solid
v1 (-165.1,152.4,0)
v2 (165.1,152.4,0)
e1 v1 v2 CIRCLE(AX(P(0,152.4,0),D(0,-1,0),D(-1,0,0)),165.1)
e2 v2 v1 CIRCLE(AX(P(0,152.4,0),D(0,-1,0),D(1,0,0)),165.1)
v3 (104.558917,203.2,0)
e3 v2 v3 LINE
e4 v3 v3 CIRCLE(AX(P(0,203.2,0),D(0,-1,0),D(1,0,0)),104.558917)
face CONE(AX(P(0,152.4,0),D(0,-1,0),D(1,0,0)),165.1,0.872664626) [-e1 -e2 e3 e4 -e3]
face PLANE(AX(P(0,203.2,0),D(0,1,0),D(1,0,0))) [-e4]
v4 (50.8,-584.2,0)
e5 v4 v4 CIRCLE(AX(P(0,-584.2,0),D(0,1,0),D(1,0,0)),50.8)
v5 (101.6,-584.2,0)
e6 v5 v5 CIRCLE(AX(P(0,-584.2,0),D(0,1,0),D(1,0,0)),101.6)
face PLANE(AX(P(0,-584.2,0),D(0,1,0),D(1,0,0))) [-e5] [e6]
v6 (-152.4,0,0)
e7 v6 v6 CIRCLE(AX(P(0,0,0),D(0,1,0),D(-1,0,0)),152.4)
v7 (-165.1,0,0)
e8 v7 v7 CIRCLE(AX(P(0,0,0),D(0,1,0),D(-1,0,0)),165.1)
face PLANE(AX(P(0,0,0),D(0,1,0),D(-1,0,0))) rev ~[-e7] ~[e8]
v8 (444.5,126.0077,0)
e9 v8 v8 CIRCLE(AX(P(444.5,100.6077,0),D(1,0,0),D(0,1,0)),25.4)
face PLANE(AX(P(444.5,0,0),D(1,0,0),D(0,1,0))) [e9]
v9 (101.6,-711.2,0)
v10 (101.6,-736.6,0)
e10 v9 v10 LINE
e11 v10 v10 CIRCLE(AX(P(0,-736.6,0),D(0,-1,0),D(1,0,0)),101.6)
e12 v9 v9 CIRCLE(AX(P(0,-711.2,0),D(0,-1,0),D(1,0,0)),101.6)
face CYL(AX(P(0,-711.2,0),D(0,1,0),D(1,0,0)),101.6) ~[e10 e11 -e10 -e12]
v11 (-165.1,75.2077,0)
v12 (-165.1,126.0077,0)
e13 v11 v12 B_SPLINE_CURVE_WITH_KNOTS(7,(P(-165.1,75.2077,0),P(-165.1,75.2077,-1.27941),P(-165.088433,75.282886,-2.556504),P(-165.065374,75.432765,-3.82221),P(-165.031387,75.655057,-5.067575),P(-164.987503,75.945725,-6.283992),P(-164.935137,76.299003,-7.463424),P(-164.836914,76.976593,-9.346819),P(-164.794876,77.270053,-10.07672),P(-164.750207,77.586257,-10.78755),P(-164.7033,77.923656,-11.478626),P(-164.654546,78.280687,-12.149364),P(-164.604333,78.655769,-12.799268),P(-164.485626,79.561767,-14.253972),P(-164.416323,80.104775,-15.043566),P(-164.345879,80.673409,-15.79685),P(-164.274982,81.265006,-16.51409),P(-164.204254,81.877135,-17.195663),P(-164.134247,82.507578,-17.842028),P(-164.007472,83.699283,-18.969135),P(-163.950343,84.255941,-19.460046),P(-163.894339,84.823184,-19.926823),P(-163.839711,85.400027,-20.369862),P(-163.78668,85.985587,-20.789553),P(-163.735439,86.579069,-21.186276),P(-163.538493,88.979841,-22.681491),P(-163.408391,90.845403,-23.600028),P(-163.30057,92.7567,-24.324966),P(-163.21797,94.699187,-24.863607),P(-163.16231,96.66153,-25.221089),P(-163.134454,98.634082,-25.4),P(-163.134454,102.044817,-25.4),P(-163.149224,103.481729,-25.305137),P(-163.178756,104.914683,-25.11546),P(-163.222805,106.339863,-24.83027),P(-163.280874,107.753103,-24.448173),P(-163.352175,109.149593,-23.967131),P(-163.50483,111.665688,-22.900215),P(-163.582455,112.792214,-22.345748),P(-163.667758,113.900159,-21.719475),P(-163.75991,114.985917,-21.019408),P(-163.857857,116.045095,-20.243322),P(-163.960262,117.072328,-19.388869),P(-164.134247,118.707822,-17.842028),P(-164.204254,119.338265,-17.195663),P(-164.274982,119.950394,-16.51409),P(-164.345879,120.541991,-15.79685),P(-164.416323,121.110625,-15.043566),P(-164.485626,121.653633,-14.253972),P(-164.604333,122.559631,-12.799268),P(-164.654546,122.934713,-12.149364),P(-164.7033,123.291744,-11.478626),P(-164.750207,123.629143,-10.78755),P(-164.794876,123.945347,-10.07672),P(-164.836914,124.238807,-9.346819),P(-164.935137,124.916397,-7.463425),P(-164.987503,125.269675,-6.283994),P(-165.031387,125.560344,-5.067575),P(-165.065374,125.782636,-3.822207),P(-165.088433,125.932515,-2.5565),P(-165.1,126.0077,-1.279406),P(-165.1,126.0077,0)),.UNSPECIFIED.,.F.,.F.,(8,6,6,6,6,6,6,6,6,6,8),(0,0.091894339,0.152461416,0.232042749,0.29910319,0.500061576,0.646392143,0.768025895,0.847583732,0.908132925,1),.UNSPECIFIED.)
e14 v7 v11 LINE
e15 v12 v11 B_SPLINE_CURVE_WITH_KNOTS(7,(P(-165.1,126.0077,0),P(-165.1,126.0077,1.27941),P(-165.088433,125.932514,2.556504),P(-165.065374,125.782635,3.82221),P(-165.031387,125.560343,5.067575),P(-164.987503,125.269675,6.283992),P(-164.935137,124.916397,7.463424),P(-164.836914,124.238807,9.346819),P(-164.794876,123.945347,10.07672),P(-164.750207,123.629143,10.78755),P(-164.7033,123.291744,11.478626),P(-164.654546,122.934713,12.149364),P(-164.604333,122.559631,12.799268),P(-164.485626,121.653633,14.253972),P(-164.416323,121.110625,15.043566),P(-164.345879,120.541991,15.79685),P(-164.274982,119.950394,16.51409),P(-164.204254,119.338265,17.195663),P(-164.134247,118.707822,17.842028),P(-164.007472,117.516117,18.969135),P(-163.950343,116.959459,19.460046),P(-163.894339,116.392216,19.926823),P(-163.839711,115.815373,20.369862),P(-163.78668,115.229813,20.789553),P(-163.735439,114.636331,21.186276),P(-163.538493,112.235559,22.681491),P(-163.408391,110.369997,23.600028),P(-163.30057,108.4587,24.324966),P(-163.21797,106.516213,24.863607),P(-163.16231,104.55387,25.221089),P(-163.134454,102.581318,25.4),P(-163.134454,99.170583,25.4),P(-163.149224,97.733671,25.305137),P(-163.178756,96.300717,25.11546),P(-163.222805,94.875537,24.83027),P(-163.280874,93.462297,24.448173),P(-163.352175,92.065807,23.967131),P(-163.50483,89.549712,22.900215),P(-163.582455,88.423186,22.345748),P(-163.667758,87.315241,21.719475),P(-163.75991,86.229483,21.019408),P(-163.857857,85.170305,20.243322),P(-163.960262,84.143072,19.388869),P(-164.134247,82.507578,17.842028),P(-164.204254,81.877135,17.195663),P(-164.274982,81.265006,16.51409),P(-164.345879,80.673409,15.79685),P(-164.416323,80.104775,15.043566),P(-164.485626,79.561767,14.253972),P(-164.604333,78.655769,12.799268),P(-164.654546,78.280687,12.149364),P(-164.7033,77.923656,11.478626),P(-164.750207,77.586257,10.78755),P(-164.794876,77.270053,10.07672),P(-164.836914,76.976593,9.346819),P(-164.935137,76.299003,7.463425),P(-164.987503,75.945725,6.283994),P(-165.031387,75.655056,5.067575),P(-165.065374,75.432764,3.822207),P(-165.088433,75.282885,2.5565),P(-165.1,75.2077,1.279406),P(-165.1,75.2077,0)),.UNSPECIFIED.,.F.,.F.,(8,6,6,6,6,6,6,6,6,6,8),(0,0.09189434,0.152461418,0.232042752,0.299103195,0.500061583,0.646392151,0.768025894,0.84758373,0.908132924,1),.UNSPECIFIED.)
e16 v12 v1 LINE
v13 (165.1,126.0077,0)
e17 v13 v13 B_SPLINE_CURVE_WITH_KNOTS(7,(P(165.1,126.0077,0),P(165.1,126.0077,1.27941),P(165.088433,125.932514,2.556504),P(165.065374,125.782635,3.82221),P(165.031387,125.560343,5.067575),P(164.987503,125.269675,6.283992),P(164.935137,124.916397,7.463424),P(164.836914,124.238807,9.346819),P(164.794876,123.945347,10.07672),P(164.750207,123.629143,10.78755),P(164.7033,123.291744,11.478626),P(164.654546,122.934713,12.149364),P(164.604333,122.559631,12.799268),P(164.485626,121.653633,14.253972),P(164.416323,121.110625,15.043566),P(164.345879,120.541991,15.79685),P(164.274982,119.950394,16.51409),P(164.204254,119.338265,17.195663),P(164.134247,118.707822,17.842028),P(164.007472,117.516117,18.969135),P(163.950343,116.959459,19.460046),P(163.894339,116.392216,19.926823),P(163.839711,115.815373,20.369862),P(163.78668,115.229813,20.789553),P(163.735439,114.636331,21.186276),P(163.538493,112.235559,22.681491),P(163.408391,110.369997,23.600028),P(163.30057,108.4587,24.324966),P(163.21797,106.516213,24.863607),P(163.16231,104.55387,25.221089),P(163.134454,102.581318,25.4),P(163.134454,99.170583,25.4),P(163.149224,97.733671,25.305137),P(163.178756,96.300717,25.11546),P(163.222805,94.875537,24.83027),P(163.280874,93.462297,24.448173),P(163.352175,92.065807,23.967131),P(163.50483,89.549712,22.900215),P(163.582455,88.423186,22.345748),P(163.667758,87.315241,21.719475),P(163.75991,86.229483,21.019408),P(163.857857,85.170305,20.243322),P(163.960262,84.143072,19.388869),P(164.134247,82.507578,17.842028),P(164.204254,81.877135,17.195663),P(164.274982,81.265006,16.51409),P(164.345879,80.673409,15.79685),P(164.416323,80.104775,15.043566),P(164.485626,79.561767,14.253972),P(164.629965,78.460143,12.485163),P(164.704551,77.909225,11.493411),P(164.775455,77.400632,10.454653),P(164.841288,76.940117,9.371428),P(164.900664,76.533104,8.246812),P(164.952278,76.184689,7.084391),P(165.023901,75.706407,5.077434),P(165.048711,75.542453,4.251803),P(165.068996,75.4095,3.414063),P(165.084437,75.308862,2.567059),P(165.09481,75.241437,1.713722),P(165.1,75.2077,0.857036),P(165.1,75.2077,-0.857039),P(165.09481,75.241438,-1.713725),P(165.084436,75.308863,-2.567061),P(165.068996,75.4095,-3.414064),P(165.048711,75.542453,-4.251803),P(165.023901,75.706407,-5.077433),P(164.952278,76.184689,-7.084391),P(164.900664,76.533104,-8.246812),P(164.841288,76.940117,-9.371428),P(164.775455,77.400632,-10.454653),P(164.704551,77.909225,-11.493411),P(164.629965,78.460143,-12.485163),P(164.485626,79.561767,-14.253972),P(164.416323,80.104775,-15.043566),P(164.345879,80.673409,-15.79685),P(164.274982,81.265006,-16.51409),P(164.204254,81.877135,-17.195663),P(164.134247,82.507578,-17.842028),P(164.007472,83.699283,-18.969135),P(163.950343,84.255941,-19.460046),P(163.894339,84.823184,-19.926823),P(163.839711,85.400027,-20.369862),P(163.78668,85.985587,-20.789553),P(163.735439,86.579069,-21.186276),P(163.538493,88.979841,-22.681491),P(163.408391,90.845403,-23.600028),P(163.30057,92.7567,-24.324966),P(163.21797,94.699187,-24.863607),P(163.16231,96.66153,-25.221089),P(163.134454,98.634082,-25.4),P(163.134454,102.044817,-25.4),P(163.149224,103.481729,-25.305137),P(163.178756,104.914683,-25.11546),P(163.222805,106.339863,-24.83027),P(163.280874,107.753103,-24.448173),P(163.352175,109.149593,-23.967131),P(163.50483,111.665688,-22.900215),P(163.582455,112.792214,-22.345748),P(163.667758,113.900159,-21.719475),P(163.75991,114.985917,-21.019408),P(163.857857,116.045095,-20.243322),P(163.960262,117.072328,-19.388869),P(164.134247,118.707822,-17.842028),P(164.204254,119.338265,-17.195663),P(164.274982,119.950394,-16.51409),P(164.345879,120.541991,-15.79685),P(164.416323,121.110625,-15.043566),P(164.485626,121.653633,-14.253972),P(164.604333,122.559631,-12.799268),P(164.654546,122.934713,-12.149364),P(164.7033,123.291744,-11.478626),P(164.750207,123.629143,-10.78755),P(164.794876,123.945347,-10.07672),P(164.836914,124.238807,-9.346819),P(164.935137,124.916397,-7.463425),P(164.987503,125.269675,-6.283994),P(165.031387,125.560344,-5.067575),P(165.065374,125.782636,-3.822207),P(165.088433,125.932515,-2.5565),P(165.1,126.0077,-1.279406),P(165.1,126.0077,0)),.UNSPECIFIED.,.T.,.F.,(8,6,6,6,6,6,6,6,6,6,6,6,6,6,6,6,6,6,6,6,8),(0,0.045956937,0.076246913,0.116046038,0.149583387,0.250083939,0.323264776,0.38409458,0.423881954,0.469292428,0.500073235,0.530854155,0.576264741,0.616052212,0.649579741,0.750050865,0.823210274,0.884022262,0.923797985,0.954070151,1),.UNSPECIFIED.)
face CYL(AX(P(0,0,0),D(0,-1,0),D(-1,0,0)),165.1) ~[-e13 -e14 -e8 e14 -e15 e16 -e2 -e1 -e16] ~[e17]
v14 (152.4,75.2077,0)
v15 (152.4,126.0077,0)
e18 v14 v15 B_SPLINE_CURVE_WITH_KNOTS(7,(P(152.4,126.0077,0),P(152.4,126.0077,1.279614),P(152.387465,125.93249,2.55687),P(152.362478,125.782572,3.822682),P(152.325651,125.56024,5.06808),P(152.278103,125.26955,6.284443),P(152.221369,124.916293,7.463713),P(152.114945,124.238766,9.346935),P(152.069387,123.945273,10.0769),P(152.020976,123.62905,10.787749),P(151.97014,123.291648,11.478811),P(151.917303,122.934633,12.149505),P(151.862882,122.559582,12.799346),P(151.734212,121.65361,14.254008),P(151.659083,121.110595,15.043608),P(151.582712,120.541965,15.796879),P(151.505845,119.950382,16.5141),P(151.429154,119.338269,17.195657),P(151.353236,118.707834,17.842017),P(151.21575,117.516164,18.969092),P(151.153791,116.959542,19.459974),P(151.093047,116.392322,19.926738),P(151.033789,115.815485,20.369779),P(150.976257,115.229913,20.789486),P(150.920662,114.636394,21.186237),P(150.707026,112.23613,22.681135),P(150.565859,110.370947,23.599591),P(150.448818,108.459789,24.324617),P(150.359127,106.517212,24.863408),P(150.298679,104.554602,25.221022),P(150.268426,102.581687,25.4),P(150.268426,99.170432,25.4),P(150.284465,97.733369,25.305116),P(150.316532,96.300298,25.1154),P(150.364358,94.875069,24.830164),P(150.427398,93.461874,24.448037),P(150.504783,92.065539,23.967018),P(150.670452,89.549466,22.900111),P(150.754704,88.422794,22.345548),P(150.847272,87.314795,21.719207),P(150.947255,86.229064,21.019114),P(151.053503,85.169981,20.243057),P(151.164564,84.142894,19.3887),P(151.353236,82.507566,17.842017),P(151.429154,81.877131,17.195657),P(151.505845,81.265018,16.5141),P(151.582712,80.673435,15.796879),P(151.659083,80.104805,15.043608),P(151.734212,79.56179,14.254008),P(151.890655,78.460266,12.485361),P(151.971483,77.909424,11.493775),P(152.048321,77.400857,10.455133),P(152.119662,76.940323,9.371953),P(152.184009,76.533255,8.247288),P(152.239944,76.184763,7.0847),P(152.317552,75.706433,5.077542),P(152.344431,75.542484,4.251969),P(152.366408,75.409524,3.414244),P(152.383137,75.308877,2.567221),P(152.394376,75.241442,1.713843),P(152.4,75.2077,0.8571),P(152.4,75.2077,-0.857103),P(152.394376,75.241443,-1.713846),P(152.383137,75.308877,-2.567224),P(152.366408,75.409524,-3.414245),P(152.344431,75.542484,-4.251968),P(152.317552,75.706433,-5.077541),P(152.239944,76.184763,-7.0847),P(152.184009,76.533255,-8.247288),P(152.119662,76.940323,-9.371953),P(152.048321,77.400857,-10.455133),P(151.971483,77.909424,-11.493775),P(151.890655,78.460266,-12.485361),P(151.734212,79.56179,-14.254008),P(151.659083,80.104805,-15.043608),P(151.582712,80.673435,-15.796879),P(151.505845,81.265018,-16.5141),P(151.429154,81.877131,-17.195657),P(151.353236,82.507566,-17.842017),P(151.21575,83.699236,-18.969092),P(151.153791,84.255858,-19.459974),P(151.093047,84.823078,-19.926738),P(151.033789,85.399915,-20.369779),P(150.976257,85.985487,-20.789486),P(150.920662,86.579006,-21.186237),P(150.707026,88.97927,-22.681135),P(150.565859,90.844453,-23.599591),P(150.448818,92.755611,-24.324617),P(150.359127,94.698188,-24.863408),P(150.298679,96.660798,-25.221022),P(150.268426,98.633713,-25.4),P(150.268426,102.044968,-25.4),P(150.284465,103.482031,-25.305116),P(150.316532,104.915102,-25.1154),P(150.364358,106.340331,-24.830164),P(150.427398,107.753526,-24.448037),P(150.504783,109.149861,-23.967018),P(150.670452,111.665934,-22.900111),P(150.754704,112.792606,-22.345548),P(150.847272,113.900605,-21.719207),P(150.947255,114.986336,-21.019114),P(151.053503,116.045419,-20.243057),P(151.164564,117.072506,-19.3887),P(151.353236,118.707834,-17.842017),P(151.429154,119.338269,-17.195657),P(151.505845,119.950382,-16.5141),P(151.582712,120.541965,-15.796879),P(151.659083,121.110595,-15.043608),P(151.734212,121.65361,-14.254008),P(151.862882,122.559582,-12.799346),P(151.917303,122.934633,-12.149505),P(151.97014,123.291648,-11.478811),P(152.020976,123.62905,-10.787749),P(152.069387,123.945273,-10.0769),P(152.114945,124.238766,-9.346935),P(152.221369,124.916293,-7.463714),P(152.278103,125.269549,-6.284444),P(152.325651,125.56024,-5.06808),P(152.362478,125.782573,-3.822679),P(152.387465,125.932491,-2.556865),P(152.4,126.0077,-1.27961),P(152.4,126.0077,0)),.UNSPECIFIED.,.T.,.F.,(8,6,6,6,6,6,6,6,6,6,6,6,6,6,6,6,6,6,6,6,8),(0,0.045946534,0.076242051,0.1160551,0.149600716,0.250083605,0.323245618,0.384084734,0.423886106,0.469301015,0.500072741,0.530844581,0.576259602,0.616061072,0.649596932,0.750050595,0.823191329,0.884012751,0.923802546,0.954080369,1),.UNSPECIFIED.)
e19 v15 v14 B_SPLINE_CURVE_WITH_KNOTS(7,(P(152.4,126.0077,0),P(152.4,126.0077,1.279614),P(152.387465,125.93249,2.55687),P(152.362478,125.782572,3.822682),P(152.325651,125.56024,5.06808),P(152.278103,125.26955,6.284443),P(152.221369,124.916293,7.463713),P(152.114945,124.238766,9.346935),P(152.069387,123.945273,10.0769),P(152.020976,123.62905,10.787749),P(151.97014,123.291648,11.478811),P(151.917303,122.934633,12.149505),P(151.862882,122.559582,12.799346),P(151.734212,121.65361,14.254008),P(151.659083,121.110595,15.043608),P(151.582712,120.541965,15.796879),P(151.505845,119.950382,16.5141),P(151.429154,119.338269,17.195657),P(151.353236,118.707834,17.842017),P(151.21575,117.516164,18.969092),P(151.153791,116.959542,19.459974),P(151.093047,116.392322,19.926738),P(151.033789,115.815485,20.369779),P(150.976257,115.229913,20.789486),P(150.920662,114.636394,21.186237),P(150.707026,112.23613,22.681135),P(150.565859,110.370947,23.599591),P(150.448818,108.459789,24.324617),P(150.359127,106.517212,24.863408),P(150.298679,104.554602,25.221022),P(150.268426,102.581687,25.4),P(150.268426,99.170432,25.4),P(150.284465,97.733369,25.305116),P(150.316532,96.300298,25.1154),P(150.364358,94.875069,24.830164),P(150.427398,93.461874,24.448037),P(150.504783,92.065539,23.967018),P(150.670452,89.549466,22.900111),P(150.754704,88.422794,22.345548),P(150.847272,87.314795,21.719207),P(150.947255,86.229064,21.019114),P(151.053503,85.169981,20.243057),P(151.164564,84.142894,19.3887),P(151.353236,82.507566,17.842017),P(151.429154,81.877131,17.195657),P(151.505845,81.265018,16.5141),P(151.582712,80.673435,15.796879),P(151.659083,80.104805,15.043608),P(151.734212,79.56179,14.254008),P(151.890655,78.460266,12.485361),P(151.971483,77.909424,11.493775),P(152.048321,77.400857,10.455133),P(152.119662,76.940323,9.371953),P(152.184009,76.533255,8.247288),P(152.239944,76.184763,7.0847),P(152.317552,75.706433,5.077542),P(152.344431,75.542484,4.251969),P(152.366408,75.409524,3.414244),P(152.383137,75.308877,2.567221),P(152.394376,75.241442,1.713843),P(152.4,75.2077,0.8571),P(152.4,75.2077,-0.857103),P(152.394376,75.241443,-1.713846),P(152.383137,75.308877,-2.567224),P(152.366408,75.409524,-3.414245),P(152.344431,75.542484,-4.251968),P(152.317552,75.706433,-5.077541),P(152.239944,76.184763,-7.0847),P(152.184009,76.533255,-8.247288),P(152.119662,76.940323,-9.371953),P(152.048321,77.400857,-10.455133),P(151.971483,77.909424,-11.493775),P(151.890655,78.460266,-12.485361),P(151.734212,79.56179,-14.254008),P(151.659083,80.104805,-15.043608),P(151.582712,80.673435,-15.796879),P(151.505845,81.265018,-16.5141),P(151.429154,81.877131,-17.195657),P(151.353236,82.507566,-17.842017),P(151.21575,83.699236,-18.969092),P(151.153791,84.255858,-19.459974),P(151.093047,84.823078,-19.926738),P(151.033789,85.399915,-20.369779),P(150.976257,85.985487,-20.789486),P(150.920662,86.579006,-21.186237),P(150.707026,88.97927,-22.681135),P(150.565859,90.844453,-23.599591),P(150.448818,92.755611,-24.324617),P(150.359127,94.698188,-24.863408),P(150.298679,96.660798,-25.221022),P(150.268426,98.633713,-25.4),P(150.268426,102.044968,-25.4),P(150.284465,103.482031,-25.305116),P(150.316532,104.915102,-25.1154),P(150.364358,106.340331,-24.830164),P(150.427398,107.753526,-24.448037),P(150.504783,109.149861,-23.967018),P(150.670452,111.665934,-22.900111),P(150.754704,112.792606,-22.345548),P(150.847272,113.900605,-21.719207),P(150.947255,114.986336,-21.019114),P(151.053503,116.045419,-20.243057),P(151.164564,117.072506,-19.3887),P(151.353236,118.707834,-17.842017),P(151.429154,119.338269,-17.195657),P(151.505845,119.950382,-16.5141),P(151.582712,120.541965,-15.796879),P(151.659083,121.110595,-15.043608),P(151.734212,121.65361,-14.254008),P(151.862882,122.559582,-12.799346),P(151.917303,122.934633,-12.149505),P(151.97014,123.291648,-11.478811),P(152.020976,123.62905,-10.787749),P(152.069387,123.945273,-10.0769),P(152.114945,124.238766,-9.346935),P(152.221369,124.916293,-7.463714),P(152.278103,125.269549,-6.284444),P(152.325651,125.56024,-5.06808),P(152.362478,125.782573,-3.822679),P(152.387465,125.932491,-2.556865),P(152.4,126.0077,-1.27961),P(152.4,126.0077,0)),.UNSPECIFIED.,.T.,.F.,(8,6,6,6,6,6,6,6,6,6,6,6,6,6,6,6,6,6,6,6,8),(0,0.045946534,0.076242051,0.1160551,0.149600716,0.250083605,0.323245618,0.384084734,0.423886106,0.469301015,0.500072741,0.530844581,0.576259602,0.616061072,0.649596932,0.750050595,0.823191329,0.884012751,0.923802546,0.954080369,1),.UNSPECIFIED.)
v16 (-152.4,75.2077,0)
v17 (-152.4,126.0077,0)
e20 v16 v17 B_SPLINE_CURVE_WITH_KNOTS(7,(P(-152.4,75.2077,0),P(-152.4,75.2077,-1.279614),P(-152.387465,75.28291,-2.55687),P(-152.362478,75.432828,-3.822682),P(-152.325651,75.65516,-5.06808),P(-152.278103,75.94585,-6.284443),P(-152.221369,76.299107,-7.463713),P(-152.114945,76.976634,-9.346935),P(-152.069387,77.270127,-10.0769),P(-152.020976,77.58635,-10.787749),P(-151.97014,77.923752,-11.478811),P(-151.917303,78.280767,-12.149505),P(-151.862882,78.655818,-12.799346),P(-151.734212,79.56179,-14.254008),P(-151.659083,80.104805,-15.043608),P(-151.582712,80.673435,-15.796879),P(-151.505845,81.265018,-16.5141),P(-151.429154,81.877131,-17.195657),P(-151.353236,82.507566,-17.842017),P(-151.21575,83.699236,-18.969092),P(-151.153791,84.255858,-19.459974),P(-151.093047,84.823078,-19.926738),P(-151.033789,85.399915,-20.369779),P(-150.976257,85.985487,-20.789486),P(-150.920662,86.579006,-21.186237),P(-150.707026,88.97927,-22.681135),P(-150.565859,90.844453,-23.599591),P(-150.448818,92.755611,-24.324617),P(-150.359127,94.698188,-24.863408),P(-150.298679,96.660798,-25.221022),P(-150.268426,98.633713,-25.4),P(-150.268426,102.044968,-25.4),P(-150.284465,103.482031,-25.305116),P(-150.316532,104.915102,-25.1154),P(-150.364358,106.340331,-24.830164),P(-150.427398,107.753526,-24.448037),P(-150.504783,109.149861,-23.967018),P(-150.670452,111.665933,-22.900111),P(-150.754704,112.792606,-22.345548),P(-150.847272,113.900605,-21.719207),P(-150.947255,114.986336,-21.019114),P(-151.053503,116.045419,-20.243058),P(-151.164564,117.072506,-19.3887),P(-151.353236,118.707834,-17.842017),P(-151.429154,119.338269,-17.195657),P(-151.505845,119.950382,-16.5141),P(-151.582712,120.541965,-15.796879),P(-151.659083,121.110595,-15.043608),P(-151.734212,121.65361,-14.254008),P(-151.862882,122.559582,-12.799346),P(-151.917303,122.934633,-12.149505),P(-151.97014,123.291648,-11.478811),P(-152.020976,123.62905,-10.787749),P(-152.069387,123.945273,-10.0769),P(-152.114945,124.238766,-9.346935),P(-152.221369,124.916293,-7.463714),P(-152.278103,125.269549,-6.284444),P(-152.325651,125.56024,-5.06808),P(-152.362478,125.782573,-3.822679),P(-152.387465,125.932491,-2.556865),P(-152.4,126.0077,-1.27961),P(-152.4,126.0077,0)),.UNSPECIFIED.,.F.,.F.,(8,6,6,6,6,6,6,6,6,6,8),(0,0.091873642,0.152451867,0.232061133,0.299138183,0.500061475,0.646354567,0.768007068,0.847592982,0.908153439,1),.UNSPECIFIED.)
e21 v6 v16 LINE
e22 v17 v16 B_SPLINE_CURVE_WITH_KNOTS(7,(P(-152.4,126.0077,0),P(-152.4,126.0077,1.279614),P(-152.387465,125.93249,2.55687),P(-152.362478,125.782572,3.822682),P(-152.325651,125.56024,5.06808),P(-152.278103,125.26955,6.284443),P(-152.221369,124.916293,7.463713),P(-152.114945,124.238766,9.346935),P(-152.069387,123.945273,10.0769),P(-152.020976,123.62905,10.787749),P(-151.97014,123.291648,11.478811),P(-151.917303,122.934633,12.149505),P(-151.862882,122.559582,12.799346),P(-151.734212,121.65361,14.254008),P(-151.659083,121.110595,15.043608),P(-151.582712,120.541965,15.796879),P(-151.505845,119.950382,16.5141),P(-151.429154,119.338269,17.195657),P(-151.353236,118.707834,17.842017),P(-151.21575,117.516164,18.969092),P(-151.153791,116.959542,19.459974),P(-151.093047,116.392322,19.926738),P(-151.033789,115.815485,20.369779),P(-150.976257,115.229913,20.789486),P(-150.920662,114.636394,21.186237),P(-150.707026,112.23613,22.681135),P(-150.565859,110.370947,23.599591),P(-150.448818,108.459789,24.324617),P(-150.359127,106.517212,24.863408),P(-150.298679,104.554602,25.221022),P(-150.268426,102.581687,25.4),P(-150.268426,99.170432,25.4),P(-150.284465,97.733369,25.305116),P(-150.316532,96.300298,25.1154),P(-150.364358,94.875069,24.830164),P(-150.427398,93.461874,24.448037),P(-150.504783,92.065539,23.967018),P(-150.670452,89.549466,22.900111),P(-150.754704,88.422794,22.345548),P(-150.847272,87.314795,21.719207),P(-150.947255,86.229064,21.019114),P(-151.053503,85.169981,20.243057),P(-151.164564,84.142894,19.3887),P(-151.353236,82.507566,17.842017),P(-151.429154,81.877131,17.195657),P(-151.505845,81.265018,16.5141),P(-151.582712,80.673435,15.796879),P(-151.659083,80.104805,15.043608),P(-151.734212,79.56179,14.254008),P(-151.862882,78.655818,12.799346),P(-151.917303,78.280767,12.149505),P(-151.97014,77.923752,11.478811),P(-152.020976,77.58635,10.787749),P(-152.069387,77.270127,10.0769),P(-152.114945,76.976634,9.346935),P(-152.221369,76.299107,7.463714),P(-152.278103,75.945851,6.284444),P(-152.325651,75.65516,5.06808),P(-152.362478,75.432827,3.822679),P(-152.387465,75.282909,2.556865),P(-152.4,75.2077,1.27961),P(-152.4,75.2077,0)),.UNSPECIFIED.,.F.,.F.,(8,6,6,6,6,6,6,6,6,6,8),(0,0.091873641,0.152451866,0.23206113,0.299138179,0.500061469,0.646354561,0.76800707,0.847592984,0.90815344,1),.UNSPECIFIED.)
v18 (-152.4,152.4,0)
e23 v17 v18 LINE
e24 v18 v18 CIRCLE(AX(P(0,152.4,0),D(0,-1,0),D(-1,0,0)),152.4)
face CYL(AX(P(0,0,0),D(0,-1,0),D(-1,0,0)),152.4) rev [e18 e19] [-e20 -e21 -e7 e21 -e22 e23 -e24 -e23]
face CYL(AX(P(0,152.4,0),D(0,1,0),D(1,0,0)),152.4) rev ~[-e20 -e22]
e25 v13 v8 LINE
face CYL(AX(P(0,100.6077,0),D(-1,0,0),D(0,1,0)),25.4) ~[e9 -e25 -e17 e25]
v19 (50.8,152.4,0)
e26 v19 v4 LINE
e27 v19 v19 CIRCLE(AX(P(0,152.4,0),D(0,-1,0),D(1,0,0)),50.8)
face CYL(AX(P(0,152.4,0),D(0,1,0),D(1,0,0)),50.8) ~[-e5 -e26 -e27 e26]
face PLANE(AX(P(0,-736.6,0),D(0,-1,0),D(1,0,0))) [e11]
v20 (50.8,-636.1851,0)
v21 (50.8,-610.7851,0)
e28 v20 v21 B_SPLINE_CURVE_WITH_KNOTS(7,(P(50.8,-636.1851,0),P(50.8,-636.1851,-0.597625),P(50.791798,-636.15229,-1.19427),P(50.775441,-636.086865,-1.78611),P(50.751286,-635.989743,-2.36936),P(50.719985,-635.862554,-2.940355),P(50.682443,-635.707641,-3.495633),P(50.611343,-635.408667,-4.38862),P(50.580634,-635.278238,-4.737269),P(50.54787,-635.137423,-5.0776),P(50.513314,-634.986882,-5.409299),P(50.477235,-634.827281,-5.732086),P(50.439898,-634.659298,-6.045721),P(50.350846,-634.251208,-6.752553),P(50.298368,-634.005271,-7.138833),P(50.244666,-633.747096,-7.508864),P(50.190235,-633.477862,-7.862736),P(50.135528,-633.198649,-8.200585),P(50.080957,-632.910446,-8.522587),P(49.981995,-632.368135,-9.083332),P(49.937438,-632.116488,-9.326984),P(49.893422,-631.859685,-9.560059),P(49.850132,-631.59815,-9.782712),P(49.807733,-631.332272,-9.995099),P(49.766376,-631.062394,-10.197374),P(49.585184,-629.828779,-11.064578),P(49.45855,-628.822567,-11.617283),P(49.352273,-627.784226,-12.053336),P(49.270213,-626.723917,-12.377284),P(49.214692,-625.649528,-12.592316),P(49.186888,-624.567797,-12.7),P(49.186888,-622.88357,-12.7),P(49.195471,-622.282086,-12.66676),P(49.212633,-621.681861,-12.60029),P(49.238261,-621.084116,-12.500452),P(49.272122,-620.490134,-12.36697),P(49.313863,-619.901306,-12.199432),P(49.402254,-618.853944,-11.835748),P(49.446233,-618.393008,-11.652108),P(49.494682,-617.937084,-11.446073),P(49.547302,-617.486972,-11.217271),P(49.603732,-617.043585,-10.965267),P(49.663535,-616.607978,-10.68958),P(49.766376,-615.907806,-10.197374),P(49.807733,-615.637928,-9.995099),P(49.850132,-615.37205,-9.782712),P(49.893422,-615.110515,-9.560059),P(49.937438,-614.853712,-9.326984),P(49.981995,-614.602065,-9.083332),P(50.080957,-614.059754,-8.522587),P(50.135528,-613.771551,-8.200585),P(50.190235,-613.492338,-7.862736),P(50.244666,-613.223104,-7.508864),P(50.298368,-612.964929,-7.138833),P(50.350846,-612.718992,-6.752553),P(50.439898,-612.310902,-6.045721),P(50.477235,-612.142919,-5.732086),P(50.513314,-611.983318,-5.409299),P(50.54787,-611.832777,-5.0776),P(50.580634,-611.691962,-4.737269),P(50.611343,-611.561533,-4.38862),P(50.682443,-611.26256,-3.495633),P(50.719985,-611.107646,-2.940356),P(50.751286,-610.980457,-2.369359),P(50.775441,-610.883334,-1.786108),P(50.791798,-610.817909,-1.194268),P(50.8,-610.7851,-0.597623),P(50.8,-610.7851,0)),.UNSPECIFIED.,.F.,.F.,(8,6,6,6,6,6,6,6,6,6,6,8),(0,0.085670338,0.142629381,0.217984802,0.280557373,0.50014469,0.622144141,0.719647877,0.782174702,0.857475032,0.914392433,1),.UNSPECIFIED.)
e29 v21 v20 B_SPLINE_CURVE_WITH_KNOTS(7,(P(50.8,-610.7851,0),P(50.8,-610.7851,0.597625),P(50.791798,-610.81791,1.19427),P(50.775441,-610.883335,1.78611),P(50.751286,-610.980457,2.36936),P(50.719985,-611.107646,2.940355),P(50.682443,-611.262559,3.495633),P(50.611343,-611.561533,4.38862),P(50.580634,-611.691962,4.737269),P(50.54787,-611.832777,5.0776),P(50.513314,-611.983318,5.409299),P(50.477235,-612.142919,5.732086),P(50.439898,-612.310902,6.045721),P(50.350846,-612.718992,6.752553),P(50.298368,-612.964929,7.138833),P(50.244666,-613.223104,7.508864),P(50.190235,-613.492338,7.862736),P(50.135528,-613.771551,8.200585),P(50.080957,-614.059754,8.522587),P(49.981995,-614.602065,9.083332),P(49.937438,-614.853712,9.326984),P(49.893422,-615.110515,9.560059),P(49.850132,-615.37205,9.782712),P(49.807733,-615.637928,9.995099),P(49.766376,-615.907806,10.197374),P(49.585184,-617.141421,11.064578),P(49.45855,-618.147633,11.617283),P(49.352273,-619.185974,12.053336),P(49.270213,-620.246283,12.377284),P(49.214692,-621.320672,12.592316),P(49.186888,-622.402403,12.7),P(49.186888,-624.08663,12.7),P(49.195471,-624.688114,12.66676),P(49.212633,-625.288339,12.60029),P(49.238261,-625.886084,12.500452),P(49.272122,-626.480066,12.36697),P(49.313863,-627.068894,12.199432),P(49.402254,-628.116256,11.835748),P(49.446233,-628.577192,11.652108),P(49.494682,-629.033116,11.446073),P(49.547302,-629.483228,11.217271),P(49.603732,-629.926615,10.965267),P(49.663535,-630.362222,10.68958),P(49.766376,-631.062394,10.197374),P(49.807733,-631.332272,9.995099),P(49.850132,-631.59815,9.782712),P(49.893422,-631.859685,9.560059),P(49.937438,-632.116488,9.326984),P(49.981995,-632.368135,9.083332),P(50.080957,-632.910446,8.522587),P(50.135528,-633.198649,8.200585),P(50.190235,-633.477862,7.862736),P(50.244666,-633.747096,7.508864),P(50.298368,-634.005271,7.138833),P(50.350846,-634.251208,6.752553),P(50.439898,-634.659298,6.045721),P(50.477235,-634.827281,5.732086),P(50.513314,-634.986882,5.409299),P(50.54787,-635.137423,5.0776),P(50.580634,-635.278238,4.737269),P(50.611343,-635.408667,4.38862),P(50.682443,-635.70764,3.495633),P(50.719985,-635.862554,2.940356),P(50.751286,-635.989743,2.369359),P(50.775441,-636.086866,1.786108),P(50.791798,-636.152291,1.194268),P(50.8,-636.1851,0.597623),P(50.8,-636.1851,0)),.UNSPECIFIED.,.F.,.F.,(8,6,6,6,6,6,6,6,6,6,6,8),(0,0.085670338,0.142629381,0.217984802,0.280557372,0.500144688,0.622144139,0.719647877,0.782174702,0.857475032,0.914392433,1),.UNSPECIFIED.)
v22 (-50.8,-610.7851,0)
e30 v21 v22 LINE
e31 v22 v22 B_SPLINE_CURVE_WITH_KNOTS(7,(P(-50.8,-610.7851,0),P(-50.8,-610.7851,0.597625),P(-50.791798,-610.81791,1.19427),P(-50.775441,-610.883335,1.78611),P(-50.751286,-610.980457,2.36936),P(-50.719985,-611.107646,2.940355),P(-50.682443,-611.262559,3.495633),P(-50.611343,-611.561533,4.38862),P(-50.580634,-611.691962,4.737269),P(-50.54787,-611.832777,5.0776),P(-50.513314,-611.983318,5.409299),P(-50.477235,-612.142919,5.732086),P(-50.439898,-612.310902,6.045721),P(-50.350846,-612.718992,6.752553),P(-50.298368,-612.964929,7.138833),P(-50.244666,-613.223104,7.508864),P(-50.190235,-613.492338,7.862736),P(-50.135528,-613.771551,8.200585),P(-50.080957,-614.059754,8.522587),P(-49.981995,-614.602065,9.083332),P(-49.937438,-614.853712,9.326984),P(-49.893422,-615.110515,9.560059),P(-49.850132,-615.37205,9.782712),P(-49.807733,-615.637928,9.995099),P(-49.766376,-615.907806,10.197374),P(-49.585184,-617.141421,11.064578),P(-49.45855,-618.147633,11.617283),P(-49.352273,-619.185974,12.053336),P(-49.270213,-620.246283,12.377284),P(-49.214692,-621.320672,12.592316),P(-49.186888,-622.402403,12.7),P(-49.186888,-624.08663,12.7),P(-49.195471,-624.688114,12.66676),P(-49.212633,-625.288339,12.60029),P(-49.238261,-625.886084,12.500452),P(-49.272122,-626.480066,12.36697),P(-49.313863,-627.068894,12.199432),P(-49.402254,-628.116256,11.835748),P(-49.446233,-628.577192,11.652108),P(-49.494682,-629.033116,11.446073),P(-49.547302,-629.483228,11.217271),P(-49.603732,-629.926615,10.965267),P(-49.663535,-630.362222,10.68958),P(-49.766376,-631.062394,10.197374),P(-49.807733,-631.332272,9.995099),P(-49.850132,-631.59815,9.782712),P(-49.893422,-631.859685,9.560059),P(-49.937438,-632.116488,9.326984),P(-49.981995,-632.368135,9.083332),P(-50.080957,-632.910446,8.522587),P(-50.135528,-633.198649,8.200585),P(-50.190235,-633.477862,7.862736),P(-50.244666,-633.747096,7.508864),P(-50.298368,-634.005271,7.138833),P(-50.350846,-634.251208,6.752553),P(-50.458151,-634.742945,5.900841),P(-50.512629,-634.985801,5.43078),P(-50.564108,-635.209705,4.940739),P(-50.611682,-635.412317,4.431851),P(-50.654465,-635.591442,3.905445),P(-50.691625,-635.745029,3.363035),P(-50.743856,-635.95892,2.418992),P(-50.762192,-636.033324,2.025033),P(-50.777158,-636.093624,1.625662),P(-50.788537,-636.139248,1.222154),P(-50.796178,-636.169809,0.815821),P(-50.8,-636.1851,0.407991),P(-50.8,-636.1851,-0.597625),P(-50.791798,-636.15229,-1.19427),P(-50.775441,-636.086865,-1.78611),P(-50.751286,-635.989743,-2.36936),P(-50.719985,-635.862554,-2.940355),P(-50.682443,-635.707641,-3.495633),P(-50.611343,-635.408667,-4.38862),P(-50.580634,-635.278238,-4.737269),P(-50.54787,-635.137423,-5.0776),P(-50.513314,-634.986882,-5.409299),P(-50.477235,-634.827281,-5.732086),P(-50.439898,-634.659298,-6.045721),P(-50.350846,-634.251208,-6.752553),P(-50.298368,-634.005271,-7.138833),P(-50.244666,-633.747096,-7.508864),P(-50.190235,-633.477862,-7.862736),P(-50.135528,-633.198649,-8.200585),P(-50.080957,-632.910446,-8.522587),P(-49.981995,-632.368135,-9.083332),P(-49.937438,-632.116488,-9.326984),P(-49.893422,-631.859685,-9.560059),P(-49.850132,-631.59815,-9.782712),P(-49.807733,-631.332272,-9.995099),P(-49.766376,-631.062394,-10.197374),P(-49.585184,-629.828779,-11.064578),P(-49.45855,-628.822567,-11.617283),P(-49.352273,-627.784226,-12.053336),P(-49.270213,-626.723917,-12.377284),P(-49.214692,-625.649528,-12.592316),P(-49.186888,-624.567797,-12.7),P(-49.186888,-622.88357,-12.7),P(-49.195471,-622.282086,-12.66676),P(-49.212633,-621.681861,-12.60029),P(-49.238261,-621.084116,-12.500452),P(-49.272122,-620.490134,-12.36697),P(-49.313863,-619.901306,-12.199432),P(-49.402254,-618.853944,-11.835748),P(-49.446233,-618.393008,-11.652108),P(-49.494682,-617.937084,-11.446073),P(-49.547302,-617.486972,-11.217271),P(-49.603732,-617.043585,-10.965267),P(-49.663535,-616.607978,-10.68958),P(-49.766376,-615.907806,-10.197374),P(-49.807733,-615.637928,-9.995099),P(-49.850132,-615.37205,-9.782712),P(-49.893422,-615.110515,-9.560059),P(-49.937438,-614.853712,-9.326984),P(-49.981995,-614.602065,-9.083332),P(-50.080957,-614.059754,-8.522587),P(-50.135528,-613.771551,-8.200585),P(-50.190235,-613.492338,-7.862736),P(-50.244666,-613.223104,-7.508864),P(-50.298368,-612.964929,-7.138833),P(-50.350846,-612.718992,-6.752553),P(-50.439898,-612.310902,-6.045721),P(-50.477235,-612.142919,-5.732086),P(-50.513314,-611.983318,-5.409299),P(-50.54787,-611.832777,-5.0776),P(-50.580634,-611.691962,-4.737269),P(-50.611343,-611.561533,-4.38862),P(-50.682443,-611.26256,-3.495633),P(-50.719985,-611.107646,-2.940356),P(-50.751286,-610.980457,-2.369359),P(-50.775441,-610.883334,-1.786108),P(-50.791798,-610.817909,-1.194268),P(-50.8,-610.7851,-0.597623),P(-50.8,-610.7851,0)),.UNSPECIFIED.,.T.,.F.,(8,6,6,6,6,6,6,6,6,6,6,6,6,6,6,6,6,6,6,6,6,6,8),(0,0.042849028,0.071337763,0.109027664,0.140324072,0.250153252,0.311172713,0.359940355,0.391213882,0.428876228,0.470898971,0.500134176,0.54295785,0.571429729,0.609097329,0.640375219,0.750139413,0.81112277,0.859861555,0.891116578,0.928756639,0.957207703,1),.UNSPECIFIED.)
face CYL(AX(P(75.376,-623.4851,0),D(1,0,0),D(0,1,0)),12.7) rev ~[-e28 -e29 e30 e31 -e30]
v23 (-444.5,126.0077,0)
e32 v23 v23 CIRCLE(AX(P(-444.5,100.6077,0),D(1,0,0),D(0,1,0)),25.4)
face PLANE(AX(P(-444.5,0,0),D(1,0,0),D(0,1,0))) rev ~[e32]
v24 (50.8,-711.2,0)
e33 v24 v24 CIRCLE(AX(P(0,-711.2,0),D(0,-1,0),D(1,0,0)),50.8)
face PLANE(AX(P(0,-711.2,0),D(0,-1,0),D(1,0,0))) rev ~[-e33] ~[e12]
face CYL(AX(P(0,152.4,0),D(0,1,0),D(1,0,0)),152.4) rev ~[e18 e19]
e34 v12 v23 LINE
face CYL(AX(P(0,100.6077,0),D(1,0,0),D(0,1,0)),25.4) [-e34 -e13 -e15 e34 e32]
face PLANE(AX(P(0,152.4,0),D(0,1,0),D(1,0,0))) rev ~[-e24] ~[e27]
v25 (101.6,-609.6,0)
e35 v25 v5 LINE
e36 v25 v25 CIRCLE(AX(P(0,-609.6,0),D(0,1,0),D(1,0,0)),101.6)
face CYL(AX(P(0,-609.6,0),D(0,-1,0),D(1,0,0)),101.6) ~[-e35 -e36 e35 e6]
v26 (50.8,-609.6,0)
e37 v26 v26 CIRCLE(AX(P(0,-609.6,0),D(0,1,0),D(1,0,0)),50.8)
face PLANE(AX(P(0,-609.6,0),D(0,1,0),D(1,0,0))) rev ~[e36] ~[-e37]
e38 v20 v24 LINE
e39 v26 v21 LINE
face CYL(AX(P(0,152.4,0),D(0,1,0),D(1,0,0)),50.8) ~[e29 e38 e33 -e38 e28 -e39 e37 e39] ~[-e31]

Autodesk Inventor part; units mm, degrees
ref_plane "YZ Plane" through (0, 0, 0) normal (1, 0, 0) x (0, 1, 0)
ref_plane "XZ Plane" through (0, 0, 0) normal (0, 1, 0) x (-1, 0, 0)
ref_plane "XY Plane" through (0, 0, 0) normal (0, 0, 1) x (1, 0, 0)
sketch "Sketch1" plane through (0, 0, 0) normal (0, 1, 0) x (-1, 0, 0)
  circle A0 centre (0, 0) radius 152.4
  circle A1 centre (0, 0) radius 165.1
  dimension "d0" = 304.8
  dimension "d1" = 330.2
extrude "Extrusion1" add sketch "Sketch1" along normal blind 152.4
sketch "Sketch2" plane through (0, 0, 0) normal (1, 0, 0) x (0, 1, 0)
  circle A0 centre (100.6077, 0) radius 25.4
  point P0 (0, 0)
  dimension "d4" = 50.8
extrude "Extrusion2" add sketch "Sketch2" along normal mid plane 889
sketch "Sketch4" plane through (0, 152.4, 0) normal (0, 1, 0) x (1, 0, 0)
  circle A0 centre (0, 0) radius 152.4
extrude "Extrusion4" cut sketch "Sketch4" against normal through all
sketch "Sketch5" plane through (0, 152.4, 0) normal (0, 1, 0) x (1, 0, 0)
  circle A0 centre (0, 0) radius 165.1
extrude "Extrusion5" add sketch "Sketch5" along normal blind 50.8 draft -50
sketch "Sketch6" plane through (0, 152.4, 0) normal (0, -1, 0) x (1, 0, 0)
  circle A0 centre (0, 0) radius 104.5589 projected
  circle A1 centre (0, 0) radius 50.8
  dimension "d15" = 101.6
extrude "Extrusion6" add sketch "Sketch6" along normal blind 863.6 contours A1
sketch "Sketch7" plane through (0, -711.2, 0) normal (0, -1, 0) x (1, 0, 0)
  circle A0 centre (0, 0) radius 104.5589 projected
  circle A1 centre (0, 0) radius 101.6
  dimension "d18" = 203.2
extrude "Extrusion7" add sketch "Sketch7" along normal blind 25.4 contours A1
ref_plane "Work Plane1" through (0, -609.6, 0) normal (0, 1, 0) x (1, 0, 0)
sketch "Sketch8" plane through (0, -609.6, 0) normal (0, 1, 0) x (1, 0, 0)
  circle A0 centre (0, 0) radius 101.6
  dimension "d22" = 203.2
extrude "Extrusion8" add sketch "Sketch8" along normal blind 25.4
ref_plane "Work Plane2" through (75.376, -18.8821, -44.9646) normal (1, 0, 0) x (0, 1, 0)
sketch "Sketch9" plane through (75.376, -18.8821, -44.9646) normal (1, 0, 0) x (0, 1, 0)
  circle A0 centre (-604.603, 44.9646) radius 12.7
  point P0 (18.8821, 44.9646)
  dimension "d25" = 25.4
extrude "Extrusion9" cut sketch "Sketch9" against normal through all
properties part number "capistan upper"
